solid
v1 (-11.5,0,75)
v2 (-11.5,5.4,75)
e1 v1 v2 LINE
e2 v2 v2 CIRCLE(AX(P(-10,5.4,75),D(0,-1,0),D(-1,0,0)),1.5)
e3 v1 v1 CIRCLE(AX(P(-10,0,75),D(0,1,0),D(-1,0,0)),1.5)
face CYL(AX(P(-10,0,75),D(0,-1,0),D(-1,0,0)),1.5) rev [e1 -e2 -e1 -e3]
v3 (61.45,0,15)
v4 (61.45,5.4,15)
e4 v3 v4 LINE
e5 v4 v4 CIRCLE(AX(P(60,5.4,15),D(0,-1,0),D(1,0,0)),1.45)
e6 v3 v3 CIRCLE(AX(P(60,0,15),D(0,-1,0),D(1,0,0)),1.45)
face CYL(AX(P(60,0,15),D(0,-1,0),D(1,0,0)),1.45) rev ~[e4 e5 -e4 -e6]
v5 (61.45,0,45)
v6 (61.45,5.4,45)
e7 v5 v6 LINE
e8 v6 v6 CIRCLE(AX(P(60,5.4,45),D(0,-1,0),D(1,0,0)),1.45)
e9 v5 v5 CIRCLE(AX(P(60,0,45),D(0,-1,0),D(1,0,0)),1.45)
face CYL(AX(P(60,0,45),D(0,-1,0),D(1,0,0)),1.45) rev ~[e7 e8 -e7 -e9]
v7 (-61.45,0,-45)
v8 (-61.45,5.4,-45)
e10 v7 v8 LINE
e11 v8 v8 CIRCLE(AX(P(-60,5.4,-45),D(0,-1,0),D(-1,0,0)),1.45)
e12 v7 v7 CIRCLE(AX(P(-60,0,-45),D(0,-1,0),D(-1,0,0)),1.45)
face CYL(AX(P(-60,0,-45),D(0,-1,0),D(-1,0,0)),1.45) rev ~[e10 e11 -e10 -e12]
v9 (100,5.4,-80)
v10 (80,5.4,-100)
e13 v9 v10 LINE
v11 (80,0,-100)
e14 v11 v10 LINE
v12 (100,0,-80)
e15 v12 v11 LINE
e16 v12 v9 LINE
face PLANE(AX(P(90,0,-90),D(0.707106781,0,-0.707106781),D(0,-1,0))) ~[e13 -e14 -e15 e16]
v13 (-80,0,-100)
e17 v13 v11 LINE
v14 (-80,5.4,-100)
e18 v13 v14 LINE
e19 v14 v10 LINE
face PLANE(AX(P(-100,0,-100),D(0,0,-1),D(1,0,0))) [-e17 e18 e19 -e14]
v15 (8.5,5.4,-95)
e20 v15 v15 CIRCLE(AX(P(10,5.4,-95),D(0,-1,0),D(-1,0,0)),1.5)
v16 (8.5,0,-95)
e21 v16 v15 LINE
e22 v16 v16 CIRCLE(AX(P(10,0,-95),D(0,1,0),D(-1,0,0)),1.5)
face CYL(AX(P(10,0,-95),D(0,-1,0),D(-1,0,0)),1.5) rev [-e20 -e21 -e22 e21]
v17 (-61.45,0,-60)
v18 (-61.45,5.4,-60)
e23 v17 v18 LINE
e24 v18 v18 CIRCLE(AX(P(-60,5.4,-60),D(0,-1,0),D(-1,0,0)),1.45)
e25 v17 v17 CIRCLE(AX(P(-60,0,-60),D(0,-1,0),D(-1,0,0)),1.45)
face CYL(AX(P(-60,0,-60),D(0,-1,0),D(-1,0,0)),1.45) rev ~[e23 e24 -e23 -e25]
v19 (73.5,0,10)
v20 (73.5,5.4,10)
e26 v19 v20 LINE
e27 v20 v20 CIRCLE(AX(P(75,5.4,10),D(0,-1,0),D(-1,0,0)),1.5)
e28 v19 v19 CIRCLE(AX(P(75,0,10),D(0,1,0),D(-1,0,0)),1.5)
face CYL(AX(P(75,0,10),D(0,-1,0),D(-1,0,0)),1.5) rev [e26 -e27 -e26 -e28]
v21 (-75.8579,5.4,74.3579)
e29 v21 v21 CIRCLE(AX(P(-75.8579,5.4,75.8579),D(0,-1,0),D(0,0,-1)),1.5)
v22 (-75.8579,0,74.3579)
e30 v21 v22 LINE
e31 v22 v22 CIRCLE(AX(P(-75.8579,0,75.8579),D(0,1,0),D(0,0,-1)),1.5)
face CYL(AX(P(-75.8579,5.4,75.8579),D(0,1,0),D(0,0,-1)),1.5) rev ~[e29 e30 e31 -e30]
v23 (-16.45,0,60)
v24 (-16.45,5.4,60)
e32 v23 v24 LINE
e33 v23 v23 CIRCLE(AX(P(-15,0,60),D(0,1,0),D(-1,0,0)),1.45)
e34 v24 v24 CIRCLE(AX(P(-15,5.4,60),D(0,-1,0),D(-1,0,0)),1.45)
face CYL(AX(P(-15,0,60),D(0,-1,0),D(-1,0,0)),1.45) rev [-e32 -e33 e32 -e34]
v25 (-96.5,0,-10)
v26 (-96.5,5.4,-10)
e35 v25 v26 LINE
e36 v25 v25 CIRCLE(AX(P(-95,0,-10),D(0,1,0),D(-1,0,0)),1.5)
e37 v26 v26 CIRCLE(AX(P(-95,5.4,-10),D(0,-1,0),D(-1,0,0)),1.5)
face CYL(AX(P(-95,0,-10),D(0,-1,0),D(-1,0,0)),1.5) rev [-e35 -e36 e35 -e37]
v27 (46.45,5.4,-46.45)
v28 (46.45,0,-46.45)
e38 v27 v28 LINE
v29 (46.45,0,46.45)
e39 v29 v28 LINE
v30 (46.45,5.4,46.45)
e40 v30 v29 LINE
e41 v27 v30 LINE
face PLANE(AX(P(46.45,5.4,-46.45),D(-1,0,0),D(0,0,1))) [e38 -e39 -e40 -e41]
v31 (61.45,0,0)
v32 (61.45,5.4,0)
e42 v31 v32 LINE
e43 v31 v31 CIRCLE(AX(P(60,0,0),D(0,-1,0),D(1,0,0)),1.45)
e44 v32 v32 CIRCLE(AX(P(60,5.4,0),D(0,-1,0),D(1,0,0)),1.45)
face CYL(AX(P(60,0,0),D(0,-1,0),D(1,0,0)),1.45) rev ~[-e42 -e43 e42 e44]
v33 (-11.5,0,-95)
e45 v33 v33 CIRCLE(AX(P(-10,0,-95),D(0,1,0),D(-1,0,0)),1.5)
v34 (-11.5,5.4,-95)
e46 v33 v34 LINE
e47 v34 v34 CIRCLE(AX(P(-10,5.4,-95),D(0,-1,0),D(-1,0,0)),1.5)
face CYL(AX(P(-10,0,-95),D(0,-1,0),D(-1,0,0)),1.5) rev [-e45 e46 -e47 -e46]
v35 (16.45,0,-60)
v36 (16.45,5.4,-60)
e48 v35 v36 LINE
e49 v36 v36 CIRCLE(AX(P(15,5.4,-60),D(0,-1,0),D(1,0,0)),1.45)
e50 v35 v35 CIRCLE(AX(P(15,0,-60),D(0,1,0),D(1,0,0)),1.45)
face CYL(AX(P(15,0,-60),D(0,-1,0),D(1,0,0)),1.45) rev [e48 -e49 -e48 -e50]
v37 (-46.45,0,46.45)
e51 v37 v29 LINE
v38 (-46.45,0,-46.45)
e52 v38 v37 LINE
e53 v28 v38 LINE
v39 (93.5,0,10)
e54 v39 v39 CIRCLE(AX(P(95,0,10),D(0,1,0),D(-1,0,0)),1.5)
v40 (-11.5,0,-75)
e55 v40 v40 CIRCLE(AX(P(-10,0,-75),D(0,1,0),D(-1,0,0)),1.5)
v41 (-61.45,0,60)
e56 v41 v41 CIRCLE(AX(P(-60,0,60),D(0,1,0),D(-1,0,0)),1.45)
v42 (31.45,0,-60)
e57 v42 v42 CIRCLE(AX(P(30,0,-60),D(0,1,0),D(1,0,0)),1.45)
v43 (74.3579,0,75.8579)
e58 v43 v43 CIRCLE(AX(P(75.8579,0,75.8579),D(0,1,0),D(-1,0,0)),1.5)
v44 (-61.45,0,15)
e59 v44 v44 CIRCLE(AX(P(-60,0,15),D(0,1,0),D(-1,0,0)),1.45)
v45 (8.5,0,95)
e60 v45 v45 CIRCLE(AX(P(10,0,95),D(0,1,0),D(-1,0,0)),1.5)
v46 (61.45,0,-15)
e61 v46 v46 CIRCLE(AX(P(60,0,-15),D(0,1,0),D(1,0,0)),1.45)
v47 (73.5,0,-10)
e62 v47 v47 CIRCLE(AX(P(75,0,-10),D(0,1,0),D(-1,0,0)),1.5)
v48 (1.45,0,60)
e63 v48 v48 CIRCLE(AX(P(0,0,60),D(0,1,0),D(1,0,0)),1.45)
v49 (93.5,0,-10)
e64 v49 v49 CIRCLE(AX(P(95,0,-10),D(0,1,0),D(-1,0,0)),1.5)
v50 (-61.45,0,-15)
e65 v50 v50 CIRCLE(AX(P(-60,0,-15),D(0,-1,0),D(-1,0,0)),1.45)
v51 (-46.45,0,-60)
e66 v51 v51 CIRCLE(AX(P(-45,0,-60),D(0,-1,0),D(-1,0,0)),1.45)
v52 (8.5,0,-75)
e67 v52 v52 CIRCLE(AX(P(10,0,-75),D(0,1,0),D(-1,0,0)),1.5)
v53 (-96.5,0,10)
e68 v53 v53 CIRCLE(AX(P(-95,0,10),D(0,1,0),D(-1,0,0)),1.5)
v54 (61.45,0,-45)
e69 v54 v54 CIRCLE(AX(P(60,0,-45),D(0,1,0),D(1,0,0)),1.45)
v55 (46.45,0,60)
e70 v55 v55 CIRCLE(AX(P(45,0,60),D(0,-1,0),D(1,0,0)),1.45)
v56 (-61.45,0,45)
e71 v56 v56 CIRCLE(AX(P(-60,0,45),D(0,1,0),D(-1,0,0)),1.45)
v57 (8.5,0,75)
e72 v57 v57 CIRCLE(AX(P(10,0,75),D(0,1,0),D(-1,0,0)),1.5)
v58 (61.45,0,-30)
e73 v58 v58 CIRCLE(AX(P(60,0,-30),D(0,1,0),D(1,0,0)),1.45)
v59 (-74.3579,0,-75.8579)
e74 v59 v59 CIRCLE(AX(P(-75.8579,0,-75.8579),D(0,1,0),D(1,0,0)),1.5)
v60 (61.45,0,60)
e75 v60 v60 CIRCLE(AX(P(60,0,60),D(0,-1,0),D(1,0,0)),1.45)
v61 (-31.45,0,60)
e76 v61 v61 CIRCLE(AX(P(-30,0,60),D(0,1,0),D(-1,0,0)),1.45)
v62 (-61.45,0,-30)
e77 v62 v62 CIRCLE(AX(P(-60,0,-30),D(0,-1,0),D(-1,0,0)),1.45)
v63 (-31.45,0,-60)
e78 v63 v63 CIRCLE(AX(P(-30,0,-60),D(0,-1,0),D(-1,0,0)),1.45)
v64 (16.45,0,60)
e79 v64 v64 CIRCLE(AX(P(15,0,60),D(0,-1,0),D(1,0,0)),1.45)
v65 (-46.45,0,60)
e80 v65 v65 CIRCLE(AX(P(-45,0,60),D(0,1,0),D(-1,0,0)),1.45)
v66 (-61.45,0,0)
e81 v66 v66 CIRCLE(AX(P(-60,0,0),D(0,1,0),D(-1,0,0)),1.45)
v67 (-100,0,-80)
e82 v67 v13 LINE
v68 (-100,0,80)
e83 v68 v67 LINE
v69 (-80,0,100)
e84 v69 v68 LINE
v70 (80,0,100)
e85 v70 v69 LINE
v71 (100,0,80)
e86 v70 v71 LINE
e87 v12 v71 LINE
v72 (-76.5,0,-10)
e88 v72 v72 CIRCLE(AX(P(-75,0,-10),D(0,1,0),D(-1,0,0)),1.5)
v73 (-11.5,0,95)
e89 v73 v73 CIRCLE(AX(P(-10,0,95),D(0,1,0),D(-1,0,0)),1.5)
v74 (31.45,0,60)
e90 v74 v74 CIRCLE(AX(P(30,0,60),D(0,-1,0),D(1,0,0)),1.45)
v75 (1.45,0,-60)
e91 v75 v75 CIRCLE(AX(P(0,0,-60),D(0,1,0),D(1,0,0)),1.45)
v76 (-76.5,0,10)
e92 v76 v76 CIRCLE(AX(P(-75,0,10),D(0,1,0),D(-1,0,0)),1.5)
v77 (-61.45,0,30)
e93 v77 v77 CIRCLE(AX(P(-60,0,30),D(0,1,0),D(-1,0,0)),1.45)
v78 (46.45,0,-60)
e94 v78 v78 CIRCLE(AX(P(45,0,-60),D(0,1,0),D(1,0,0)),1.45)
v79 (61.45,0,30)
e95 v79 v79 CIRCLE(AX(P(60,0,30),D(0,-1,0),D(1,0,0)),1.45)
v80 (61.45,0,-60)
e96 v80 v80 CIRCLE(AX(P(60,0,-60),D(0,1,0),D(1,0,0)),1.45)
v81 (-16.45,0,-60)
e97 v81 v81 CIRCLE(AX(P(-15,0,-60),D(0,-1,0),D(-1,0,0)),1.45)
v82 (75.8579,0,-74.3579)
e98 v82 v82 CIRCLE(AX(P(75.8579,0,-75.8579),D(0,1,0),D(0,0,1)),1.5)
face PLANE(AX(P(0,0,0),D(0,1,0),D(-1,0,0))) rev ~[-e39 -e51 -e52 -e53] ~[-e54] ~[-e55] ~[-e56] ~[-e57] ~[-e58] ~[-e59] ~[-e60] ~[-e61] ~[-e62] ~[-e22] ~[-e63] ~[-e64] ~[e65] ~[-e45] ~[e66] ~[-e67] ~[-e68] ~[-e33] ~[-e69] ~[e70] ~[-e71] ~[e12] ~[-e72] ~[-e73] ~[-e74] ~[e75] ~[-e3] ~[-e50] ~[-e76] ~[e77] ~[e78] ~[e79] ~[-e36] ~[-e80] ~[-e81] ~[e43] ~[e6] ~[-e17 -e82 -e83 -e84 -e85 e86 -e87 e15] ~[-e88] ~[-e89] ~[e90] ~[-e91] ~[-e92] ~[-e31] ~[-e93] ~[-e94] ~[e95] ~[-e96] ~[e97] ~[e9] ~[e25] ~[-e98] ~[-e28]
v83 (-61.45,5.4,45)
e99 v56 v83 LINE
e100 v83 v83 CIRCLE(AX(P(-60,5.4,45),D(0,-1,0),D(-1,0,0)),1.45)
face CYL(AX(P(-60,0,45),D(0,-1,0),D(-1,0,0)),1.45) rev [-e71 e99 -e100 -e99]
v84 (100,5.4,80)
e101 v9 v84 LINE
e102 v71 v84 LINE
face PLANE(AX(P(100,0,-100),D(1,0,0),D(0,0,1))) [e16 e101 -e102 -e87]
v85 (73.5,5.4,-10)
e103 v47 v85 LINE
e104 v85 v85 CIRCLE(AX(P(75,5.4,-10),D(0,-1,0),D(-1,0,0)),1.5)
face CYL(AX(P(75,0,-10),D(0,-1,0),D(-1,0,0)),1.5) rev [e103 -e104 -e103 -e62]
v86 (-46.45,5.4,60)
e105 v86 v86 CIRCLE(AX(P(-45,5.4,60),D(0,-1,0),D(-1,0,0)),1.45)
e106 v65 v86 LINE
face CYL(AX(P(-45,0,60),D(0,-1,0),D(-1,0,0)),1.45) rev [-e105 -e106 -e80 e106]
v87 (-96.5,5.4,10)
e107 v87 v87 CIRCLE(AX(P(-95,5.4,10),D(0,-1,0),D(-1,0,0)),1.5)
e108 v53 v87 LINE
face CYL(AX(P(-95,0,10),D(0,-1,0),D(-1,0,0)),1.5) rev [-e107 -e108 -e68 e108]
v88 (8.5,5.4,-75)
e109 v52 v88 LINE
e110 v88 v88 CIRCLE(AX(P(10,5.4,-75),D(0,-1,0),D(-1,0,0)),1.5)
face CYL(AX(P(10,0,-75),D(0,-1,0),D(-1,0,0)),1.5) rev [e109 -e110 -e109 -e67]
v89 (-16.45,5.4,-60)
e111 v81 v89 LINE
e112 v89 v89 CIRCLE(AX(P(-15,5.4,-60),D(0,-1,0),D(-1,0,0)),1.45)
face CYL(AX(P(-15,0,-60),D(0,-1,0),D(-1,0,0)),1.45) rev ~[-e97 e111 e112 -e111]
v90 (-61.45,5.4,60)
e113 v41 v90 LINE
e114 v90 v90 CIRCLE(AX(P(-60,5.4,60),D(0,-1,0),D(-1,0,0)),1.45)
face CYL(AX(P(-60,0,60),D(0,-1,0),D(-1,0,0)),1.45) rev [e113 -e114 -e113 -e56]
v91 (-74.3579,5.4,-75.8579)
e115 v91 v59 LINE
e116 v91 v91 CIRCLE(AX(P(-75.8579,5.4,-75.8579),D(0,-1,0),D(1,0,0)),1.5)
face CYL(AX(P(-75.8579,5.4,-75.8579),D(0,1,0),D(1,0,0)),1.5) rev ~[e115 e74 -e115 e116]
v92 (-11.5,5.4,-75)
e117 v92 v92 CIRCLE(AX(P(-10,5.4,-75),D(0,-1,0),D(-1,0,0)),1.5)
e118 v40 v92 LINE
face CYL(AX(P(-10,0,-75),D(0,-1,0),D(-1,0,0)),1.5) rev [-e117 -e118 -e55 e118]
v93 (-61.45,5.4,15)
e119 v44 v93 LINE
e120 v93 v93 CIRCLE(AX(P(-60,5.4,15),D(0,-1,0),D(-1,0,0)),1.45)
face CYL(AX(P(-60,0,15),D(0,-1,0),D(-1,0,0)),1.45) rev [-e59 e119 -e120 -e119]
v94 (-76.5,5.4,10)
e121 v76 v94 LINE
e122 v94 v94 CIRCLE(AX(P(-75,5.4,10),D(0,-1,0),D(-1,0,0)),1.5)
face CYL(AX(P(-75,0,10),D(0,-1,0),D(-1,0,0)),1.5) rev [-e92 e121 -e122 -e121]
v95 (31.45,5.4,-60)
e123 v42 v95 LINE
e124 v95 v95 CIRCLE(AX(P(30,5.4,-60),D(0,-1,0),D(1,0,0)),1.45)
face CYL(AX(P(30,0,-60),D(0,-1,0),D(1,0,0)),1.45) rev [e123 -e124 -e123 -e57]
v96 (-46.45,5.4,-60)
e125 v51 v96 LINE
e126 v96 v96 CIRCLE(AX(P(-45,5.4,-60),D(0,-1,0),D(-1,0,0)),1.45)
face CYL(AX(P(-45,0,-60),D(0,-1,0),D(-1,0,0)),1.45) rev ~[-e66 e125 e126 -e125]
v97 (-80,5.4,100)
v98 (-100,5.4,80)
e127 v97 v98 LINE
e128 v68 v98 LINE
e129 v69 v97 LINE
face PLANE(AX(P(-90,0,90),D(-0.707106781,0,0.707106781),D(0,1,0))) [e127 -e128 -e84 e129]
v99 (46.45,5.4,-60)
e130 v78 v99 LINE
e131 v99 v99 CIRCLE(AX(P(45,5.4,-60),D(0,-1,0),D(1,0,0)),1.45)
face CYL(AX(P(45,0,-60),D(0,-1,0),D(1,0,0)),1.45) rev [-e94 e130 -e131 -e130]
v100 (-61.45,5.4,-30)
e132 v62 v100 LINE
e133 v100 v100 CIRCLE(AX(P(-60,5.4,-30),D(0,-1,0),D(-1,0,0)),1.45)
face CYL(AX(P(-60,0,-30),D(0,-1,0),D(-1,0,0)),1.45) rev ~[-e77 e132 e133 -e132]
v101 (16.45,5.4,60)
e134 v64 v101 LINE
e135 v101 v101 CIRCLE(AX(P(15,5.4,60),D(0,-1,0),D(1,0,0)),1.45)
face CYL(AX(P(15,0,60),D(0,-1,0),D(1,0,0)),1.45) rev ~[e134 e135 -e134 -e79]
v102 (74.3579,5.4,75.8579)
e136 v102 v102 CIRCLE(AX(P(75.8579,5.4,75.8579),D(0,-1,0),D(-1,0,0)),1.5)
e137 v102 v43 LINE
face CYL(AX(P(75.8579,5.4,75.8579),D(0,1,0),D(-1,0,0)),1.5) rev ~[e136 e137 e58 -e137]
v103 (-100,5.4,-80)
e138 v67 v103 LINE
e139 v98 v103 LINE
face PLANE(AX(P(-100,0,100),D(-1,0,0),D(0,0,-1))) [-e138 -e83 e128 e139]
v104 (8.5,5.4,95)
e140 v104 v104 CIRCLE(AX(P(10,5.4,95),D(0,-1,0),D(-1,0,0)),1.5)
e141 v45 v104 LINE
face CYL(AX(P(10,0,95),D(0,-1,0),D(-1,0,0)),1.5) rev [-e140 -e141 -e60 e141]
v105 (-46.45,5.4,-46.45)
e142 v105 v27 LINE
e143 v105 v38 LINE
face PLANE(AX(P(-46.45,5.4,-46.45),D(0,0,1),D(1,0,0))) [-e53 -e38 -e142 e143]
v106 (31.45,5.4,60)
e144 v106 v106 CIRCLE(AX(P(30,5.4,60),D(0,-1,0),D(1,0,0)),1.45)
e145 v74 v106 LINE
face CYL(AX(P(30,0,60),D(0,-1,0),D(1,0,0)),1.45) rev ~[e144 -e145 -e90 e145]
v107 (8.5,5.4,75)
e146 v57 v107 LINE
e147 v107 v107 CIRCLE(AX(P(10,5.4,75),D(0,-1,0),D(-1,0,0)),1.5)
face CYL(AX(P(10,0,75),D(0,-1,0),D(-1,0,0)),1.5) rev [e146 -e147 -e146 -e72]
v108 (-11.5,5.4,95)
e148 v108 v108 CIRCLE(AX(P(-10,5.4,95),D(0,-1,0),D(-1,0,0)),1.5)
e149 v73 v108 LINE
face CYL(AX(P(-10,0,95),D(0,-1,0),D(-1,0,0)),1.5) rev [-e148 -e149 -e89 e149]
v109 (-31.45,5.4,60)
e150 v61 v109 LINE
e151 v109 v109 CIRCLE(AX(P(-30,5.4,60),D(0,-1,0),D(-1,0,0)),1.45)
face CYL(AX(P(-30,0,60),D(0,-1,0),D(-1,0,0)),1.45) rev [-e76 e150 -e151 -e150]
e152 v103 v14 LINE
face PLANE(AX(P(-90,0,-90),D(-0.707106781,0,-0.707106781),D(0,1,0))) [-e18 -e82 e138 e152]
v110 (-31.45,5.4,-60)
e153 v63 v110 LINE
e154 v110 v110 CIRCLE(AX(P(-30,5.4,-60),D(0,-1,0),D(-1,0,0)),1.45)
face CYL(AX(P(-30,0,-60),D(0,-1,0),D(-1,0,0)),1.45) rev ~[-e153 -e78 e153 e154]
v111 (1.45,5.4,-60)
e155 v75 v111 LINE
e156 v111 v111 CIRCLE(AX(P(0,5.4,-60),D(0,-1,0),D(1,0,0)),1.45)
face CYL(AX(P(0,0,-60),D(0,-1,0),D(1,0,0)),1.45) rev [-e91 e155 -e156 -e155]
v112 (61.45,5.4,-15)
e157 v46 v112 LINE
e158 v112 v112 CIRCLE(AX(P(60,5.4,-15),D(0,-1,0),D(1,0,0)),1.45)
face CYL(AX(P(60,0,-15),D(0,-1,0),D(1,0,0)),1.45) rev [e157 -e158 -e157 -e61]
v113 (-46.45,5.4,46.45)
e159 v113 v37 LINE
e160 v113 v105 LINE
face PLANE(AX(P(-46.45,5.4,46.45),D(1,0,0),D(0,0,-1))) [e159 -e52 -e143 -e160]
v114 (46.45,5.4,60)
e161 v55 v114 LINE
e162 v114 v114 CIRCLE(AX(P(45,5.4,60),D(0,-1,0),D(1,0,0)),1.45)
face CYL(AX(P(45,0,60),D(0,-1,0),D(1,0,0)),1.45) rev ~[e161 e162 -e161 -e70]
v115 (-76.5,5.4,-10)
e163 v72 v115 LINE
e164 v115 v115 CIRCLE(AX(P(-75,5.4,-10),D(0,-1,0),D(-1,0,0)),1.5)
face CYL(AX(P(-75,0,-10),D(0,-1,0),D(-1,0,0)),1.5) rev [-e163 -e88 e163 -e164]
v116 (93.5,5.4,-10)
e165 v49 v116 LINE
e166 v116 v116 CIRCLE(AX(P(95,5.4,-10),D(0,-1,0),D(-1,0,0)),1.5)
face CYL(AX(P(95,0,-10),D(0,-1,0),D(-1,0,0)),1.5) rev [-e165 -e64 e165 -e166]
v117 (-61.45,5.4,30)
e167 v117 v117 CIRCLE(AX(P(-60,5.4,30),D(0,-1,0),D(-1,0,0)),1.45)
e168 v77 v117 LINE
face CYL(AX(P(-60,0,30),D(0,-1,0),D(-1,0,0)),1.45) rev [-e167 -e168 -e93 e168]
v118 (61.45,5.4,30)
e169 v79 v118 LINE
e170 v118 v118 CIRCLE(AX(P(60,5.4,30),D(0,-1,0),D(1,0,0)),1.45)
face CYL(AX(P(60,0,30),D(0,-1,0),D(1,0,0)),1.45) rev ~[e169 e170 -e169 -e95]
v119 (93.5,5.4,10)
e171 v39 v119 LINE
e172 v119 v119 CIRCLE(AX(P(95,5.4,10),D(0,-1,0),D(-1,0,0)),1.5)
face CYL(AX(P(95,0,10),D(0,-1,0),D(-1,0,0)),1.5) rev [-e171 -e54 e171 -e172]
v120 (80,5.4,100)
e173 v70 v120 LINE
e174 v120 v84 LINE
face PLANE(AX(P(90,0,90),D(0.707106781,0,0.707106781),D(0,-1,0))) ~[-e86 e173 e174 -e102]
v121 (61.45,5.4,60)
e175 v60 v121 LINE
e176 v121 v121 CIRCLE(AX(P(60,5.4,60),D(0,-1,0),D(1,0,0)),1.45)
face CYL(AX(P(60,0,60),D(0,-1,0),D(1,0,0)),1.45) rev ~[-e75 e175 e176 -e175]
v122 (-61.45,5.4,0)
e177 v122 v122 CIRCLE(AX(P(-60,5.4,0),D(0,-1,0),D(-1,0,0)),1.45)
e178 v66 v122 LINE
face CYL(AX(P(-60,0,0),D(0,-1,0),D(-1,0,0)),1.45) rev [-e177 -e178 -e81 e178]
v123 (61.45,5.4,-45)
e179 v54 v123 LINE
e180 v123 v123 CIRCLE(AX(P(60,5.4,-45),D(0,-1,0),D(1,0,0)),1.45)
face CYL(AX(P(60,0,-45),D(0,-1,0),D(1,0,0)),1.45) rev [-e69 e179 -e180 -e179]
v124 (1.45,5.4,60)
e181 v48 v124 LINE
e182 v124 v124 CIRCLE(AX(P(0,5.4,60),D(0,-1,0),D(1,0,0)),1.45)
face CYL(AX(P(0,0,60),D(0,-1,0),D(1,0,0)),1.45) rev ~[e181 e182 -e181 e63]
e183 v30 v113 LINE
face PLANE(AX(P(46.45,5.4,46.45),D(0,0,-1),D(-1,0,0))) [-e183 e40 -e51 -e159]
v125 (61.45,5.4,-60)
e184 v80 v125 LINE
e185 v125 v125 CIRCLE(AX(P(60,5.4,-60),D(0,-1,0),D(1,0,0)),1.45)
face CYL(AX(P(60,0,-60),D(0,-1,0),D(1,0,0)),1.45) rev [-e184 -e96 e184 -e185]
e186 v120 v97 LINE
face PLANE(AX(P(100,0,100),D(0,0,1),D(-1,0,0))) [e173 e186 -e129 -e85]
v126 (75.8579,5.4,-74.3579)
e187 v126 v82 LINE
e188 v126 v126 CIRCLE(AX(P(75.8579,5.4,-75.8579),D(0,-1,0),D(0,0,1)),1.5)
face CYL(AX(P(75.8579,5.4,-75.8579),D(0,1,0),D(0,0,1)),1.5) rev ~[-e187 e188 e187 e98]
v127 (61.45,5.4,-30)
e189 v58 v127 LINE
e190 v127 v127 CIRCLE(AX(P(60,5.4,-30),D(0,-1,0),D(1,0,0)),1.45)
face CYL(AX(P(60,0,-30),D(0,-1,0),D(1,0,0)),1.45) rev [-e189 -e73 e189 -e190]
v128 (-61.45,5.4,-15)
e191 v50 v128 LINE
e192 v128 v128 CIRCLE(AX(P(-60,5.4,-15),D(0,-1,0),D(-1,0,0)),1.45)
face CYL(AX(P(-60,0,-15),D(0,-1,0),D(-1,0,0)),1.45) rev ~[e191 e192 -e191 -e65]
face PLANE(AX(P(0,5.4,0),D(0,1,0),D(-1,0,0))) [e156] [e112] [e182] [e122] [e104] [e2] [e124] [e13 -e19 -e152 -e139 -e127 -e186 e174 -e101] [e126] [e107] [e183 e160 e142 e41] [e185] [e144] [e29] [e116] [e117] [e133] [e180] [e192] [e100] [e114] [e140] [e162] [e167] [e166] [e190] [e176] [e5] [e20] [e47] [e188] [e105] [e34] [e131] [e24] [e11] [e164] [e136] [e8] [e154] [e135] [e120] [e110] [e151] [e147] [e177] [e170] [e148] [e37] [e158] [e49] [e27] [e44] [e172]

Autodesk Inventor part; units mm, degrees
ref_plane "YZ Plane" through (0, 0, 0) normal (1, 0, 0) x (0, 1, 0)
ref_plane "XZ Plane" through (0, 0, 0) normal (0, 1, 0) x (-1, 0, 0)
ref_plane "XY Plane" through (0, 0, 0) normal (0, 0, 1) x (1, 0, 0)
sketch "Sketch1" plane through (0, 0, 0) normal (0, 1, 0) x (-1, 0, 0)
  point P0 (0, 0)
sketch "Sketch2" plane through (0, 0, 0) normal (0, 1, 0) x (-1, 0, 0)
  line L0 (-100, 100) -> (100, 100)
  line L1 (100, 100) -> (100, -100)
  line L2 (100, -100) -> (-100, -100)
  line L3 (-100, -100) -> (-100, 100)
  line L4 (-100, 100) -> (100, -100) construction
  line L5 (100, 100) -> (-100, -100) construction
  line L6 (95, 10) -> (75, 10)
  line L7 (75, 10) -> (75, -10)
  line L8 (75, -10) -> (95, -10)
  line L9 (95, -10) -> (95, 10)
  line L10 (95, 10) -> (75, -10) construction
  line L11 (75, 10) -> (95, -10) construction
  circle A0 centre (95, 10) radius 1.5
  circle A1 centre (95, -10) radius 1.5
  circle A2 centre (75, -10) radius 1.5
  circle A3 centre (75, 10) radius 1.5
  line L12 (-10, 95) -> (-10, 75)
  circle A4 centre (-10, 95) radius 1.5
  circle A5 centre (-10, 75) radius 1.5
  line L13 (-10, 75) -> (10, 75)
  line L14 (10, 75) -> (10, 95)
  line L15 (-10, 75) -> (10, 95) construction
  line L16 (-10, 95) -> (10, 75) construction
  line L17 (10, 95) -> (-10, 95)
  circle A6 centre (10, 95) radius 1.5
  circle A7 centre (10, 75) radius 1.5
  line L18 (-95, -10) -> (-75, -10)
  circle A8 centre (-95, -10) radius 1.5
  circle A9 centre (-75, -10) radius 1.5
  line L19 (-75, -10) -> (-75, 10)
  line L20 (-75, 10) -> (-95, 10)
  line L21 (-75, -10) -> (-95, 10) construction
  line L22 (-95, -10) -> (-75, 10) construction
  line L23 (-95, 10) -> (-95, -10)
  circle A10 centre (-95, 10) radius 1.5
  circle A11 centre (-75, 10) radius 1.5
  line L24 (10, -95) -> (10, -75)
  circle A12 centre (10, -95) radius 1.5
  circle A13 centre (10, -75) radius 1.5
  line L25 (10, -75) -> (-10, -75)
  line L26 (-10, -75) -> (-10, -95)
  line L27 (10, -75) -> (-10, -95) construction
  line L28 (10, -95) -> (-10, -75) construction
  line L29 (-10, -95) -> (10, -95)
  circle A14 centre (-10, -95) radius 1.5
  circle A15 centre (-10, -75) radius 1.5
  point P0 (0, 0)
  point P1 (85, 0)
  point P2 (0, 85)
  point P3 (-85, 0)
  point P4 (0, -85)
  dimension "d0" = 200
  dimension "d1" = 200
  dimension "d2" = 20
  dimension "d3" = 20
  dimension "d4" = 5
  dimension "d5" = 3
  dimension "d6" = 3
  dimension "d7" = 3
  dimension "d8" = 3
  dimension "d11" = 360
extrude "Extrusion1" add sketch "Sketch2" along normal blind 5.4 contours L0 L1 L2 L3 | L6 A0 L9 A1 L8 A2 L7 A3 | A4 L17 A6 L14 A7 L13 A5 L12 | A8 L23 A10 L20 A11 L19 A9 L18 | A12 L29 A14 L26 A15 L25 A13 L24
chamfer "Chamfer1" distance 20 angle 45 4 edges at (100, 2.7, -100) (-100, 2.7, -100) (100, 2.7, 100) (-100, 2.7, 100)
sketch "Sketch5" plane through (0, 0, 0) normal (0, -1, 0) x (1, 0, 0)
  circle A0 centre (0, 0) radius 4
  circle A1 centre (0, 0) radius 1.45
  dimension "d32" = 2.9
  dimension "d33" = 8
extrude "Extrusion3" cut sketch "Sketch5" against normal blind 8 contours A1
pattern_linear "Rectangular Pattern1" count 5 spacing 15 along (1, 0, 0) count 5 spacing 15 along (0, 0, 1) of "Extrusion3"
mirror "Mirror1" about plane through (0, 0, 0) normal (1, 0, 0) of "Extrusion3", "Rectangular Pattern1"
mirror "Mirror2" about plane through (0, 0, 0) normal (0, 0, 1) of "Extrusion3", "Rectangular Pattern1", "Mirror1"
sketch "Sketch6" plane through (0, 5.4, 0) normal (0, 1, 0) x (1, 0, 0)
  line L0 (-100, 80) -> (-80, 100) projected
  line L1 (-90, 90) -> (-75.8579, 75.8579)
  circle A0 centre (-75.8579, 75.8579) radius 1.5
  point P0 (0, 0)
  dimension "d44" = 3
  dimension "d45" = 20
extrude "Extrusion5" cut sketch "Sketch6" against normal blind 16
pattern_circular "Circular Pattern1" count 4 over 360 about axis through (0, 0, 0) along (0, 1, 0) of "Extrusion5"
sketch "Sketch8" plane through (0, 5.4, 0) normal (0, 1, 0) x (1, 0, 0)
  line L0 (46.45, -46.45) -> (-46.45, -46.45)
  line L1 (-46.45, -46.45) -> (-46.45, 46.45)
  line L2 (-46.45, 46.45) -> (46.45, 46.45)
  line L3 (46.45, 46.45) -> (46.45, -46.45)
  circle A0 centre (0, 0) radius 1.45 projected
  line L4 (46.45, -46.45) -> (-46.45, 46.45) construction
  line L5 (-46.45, -46.45) -> (46.45, 46.45) construction
extrude "Extrusion7" cut sketch "Sketch8" against normal blind 10
equation "\"d34\" = d33"
properties part number "RobotBase"
